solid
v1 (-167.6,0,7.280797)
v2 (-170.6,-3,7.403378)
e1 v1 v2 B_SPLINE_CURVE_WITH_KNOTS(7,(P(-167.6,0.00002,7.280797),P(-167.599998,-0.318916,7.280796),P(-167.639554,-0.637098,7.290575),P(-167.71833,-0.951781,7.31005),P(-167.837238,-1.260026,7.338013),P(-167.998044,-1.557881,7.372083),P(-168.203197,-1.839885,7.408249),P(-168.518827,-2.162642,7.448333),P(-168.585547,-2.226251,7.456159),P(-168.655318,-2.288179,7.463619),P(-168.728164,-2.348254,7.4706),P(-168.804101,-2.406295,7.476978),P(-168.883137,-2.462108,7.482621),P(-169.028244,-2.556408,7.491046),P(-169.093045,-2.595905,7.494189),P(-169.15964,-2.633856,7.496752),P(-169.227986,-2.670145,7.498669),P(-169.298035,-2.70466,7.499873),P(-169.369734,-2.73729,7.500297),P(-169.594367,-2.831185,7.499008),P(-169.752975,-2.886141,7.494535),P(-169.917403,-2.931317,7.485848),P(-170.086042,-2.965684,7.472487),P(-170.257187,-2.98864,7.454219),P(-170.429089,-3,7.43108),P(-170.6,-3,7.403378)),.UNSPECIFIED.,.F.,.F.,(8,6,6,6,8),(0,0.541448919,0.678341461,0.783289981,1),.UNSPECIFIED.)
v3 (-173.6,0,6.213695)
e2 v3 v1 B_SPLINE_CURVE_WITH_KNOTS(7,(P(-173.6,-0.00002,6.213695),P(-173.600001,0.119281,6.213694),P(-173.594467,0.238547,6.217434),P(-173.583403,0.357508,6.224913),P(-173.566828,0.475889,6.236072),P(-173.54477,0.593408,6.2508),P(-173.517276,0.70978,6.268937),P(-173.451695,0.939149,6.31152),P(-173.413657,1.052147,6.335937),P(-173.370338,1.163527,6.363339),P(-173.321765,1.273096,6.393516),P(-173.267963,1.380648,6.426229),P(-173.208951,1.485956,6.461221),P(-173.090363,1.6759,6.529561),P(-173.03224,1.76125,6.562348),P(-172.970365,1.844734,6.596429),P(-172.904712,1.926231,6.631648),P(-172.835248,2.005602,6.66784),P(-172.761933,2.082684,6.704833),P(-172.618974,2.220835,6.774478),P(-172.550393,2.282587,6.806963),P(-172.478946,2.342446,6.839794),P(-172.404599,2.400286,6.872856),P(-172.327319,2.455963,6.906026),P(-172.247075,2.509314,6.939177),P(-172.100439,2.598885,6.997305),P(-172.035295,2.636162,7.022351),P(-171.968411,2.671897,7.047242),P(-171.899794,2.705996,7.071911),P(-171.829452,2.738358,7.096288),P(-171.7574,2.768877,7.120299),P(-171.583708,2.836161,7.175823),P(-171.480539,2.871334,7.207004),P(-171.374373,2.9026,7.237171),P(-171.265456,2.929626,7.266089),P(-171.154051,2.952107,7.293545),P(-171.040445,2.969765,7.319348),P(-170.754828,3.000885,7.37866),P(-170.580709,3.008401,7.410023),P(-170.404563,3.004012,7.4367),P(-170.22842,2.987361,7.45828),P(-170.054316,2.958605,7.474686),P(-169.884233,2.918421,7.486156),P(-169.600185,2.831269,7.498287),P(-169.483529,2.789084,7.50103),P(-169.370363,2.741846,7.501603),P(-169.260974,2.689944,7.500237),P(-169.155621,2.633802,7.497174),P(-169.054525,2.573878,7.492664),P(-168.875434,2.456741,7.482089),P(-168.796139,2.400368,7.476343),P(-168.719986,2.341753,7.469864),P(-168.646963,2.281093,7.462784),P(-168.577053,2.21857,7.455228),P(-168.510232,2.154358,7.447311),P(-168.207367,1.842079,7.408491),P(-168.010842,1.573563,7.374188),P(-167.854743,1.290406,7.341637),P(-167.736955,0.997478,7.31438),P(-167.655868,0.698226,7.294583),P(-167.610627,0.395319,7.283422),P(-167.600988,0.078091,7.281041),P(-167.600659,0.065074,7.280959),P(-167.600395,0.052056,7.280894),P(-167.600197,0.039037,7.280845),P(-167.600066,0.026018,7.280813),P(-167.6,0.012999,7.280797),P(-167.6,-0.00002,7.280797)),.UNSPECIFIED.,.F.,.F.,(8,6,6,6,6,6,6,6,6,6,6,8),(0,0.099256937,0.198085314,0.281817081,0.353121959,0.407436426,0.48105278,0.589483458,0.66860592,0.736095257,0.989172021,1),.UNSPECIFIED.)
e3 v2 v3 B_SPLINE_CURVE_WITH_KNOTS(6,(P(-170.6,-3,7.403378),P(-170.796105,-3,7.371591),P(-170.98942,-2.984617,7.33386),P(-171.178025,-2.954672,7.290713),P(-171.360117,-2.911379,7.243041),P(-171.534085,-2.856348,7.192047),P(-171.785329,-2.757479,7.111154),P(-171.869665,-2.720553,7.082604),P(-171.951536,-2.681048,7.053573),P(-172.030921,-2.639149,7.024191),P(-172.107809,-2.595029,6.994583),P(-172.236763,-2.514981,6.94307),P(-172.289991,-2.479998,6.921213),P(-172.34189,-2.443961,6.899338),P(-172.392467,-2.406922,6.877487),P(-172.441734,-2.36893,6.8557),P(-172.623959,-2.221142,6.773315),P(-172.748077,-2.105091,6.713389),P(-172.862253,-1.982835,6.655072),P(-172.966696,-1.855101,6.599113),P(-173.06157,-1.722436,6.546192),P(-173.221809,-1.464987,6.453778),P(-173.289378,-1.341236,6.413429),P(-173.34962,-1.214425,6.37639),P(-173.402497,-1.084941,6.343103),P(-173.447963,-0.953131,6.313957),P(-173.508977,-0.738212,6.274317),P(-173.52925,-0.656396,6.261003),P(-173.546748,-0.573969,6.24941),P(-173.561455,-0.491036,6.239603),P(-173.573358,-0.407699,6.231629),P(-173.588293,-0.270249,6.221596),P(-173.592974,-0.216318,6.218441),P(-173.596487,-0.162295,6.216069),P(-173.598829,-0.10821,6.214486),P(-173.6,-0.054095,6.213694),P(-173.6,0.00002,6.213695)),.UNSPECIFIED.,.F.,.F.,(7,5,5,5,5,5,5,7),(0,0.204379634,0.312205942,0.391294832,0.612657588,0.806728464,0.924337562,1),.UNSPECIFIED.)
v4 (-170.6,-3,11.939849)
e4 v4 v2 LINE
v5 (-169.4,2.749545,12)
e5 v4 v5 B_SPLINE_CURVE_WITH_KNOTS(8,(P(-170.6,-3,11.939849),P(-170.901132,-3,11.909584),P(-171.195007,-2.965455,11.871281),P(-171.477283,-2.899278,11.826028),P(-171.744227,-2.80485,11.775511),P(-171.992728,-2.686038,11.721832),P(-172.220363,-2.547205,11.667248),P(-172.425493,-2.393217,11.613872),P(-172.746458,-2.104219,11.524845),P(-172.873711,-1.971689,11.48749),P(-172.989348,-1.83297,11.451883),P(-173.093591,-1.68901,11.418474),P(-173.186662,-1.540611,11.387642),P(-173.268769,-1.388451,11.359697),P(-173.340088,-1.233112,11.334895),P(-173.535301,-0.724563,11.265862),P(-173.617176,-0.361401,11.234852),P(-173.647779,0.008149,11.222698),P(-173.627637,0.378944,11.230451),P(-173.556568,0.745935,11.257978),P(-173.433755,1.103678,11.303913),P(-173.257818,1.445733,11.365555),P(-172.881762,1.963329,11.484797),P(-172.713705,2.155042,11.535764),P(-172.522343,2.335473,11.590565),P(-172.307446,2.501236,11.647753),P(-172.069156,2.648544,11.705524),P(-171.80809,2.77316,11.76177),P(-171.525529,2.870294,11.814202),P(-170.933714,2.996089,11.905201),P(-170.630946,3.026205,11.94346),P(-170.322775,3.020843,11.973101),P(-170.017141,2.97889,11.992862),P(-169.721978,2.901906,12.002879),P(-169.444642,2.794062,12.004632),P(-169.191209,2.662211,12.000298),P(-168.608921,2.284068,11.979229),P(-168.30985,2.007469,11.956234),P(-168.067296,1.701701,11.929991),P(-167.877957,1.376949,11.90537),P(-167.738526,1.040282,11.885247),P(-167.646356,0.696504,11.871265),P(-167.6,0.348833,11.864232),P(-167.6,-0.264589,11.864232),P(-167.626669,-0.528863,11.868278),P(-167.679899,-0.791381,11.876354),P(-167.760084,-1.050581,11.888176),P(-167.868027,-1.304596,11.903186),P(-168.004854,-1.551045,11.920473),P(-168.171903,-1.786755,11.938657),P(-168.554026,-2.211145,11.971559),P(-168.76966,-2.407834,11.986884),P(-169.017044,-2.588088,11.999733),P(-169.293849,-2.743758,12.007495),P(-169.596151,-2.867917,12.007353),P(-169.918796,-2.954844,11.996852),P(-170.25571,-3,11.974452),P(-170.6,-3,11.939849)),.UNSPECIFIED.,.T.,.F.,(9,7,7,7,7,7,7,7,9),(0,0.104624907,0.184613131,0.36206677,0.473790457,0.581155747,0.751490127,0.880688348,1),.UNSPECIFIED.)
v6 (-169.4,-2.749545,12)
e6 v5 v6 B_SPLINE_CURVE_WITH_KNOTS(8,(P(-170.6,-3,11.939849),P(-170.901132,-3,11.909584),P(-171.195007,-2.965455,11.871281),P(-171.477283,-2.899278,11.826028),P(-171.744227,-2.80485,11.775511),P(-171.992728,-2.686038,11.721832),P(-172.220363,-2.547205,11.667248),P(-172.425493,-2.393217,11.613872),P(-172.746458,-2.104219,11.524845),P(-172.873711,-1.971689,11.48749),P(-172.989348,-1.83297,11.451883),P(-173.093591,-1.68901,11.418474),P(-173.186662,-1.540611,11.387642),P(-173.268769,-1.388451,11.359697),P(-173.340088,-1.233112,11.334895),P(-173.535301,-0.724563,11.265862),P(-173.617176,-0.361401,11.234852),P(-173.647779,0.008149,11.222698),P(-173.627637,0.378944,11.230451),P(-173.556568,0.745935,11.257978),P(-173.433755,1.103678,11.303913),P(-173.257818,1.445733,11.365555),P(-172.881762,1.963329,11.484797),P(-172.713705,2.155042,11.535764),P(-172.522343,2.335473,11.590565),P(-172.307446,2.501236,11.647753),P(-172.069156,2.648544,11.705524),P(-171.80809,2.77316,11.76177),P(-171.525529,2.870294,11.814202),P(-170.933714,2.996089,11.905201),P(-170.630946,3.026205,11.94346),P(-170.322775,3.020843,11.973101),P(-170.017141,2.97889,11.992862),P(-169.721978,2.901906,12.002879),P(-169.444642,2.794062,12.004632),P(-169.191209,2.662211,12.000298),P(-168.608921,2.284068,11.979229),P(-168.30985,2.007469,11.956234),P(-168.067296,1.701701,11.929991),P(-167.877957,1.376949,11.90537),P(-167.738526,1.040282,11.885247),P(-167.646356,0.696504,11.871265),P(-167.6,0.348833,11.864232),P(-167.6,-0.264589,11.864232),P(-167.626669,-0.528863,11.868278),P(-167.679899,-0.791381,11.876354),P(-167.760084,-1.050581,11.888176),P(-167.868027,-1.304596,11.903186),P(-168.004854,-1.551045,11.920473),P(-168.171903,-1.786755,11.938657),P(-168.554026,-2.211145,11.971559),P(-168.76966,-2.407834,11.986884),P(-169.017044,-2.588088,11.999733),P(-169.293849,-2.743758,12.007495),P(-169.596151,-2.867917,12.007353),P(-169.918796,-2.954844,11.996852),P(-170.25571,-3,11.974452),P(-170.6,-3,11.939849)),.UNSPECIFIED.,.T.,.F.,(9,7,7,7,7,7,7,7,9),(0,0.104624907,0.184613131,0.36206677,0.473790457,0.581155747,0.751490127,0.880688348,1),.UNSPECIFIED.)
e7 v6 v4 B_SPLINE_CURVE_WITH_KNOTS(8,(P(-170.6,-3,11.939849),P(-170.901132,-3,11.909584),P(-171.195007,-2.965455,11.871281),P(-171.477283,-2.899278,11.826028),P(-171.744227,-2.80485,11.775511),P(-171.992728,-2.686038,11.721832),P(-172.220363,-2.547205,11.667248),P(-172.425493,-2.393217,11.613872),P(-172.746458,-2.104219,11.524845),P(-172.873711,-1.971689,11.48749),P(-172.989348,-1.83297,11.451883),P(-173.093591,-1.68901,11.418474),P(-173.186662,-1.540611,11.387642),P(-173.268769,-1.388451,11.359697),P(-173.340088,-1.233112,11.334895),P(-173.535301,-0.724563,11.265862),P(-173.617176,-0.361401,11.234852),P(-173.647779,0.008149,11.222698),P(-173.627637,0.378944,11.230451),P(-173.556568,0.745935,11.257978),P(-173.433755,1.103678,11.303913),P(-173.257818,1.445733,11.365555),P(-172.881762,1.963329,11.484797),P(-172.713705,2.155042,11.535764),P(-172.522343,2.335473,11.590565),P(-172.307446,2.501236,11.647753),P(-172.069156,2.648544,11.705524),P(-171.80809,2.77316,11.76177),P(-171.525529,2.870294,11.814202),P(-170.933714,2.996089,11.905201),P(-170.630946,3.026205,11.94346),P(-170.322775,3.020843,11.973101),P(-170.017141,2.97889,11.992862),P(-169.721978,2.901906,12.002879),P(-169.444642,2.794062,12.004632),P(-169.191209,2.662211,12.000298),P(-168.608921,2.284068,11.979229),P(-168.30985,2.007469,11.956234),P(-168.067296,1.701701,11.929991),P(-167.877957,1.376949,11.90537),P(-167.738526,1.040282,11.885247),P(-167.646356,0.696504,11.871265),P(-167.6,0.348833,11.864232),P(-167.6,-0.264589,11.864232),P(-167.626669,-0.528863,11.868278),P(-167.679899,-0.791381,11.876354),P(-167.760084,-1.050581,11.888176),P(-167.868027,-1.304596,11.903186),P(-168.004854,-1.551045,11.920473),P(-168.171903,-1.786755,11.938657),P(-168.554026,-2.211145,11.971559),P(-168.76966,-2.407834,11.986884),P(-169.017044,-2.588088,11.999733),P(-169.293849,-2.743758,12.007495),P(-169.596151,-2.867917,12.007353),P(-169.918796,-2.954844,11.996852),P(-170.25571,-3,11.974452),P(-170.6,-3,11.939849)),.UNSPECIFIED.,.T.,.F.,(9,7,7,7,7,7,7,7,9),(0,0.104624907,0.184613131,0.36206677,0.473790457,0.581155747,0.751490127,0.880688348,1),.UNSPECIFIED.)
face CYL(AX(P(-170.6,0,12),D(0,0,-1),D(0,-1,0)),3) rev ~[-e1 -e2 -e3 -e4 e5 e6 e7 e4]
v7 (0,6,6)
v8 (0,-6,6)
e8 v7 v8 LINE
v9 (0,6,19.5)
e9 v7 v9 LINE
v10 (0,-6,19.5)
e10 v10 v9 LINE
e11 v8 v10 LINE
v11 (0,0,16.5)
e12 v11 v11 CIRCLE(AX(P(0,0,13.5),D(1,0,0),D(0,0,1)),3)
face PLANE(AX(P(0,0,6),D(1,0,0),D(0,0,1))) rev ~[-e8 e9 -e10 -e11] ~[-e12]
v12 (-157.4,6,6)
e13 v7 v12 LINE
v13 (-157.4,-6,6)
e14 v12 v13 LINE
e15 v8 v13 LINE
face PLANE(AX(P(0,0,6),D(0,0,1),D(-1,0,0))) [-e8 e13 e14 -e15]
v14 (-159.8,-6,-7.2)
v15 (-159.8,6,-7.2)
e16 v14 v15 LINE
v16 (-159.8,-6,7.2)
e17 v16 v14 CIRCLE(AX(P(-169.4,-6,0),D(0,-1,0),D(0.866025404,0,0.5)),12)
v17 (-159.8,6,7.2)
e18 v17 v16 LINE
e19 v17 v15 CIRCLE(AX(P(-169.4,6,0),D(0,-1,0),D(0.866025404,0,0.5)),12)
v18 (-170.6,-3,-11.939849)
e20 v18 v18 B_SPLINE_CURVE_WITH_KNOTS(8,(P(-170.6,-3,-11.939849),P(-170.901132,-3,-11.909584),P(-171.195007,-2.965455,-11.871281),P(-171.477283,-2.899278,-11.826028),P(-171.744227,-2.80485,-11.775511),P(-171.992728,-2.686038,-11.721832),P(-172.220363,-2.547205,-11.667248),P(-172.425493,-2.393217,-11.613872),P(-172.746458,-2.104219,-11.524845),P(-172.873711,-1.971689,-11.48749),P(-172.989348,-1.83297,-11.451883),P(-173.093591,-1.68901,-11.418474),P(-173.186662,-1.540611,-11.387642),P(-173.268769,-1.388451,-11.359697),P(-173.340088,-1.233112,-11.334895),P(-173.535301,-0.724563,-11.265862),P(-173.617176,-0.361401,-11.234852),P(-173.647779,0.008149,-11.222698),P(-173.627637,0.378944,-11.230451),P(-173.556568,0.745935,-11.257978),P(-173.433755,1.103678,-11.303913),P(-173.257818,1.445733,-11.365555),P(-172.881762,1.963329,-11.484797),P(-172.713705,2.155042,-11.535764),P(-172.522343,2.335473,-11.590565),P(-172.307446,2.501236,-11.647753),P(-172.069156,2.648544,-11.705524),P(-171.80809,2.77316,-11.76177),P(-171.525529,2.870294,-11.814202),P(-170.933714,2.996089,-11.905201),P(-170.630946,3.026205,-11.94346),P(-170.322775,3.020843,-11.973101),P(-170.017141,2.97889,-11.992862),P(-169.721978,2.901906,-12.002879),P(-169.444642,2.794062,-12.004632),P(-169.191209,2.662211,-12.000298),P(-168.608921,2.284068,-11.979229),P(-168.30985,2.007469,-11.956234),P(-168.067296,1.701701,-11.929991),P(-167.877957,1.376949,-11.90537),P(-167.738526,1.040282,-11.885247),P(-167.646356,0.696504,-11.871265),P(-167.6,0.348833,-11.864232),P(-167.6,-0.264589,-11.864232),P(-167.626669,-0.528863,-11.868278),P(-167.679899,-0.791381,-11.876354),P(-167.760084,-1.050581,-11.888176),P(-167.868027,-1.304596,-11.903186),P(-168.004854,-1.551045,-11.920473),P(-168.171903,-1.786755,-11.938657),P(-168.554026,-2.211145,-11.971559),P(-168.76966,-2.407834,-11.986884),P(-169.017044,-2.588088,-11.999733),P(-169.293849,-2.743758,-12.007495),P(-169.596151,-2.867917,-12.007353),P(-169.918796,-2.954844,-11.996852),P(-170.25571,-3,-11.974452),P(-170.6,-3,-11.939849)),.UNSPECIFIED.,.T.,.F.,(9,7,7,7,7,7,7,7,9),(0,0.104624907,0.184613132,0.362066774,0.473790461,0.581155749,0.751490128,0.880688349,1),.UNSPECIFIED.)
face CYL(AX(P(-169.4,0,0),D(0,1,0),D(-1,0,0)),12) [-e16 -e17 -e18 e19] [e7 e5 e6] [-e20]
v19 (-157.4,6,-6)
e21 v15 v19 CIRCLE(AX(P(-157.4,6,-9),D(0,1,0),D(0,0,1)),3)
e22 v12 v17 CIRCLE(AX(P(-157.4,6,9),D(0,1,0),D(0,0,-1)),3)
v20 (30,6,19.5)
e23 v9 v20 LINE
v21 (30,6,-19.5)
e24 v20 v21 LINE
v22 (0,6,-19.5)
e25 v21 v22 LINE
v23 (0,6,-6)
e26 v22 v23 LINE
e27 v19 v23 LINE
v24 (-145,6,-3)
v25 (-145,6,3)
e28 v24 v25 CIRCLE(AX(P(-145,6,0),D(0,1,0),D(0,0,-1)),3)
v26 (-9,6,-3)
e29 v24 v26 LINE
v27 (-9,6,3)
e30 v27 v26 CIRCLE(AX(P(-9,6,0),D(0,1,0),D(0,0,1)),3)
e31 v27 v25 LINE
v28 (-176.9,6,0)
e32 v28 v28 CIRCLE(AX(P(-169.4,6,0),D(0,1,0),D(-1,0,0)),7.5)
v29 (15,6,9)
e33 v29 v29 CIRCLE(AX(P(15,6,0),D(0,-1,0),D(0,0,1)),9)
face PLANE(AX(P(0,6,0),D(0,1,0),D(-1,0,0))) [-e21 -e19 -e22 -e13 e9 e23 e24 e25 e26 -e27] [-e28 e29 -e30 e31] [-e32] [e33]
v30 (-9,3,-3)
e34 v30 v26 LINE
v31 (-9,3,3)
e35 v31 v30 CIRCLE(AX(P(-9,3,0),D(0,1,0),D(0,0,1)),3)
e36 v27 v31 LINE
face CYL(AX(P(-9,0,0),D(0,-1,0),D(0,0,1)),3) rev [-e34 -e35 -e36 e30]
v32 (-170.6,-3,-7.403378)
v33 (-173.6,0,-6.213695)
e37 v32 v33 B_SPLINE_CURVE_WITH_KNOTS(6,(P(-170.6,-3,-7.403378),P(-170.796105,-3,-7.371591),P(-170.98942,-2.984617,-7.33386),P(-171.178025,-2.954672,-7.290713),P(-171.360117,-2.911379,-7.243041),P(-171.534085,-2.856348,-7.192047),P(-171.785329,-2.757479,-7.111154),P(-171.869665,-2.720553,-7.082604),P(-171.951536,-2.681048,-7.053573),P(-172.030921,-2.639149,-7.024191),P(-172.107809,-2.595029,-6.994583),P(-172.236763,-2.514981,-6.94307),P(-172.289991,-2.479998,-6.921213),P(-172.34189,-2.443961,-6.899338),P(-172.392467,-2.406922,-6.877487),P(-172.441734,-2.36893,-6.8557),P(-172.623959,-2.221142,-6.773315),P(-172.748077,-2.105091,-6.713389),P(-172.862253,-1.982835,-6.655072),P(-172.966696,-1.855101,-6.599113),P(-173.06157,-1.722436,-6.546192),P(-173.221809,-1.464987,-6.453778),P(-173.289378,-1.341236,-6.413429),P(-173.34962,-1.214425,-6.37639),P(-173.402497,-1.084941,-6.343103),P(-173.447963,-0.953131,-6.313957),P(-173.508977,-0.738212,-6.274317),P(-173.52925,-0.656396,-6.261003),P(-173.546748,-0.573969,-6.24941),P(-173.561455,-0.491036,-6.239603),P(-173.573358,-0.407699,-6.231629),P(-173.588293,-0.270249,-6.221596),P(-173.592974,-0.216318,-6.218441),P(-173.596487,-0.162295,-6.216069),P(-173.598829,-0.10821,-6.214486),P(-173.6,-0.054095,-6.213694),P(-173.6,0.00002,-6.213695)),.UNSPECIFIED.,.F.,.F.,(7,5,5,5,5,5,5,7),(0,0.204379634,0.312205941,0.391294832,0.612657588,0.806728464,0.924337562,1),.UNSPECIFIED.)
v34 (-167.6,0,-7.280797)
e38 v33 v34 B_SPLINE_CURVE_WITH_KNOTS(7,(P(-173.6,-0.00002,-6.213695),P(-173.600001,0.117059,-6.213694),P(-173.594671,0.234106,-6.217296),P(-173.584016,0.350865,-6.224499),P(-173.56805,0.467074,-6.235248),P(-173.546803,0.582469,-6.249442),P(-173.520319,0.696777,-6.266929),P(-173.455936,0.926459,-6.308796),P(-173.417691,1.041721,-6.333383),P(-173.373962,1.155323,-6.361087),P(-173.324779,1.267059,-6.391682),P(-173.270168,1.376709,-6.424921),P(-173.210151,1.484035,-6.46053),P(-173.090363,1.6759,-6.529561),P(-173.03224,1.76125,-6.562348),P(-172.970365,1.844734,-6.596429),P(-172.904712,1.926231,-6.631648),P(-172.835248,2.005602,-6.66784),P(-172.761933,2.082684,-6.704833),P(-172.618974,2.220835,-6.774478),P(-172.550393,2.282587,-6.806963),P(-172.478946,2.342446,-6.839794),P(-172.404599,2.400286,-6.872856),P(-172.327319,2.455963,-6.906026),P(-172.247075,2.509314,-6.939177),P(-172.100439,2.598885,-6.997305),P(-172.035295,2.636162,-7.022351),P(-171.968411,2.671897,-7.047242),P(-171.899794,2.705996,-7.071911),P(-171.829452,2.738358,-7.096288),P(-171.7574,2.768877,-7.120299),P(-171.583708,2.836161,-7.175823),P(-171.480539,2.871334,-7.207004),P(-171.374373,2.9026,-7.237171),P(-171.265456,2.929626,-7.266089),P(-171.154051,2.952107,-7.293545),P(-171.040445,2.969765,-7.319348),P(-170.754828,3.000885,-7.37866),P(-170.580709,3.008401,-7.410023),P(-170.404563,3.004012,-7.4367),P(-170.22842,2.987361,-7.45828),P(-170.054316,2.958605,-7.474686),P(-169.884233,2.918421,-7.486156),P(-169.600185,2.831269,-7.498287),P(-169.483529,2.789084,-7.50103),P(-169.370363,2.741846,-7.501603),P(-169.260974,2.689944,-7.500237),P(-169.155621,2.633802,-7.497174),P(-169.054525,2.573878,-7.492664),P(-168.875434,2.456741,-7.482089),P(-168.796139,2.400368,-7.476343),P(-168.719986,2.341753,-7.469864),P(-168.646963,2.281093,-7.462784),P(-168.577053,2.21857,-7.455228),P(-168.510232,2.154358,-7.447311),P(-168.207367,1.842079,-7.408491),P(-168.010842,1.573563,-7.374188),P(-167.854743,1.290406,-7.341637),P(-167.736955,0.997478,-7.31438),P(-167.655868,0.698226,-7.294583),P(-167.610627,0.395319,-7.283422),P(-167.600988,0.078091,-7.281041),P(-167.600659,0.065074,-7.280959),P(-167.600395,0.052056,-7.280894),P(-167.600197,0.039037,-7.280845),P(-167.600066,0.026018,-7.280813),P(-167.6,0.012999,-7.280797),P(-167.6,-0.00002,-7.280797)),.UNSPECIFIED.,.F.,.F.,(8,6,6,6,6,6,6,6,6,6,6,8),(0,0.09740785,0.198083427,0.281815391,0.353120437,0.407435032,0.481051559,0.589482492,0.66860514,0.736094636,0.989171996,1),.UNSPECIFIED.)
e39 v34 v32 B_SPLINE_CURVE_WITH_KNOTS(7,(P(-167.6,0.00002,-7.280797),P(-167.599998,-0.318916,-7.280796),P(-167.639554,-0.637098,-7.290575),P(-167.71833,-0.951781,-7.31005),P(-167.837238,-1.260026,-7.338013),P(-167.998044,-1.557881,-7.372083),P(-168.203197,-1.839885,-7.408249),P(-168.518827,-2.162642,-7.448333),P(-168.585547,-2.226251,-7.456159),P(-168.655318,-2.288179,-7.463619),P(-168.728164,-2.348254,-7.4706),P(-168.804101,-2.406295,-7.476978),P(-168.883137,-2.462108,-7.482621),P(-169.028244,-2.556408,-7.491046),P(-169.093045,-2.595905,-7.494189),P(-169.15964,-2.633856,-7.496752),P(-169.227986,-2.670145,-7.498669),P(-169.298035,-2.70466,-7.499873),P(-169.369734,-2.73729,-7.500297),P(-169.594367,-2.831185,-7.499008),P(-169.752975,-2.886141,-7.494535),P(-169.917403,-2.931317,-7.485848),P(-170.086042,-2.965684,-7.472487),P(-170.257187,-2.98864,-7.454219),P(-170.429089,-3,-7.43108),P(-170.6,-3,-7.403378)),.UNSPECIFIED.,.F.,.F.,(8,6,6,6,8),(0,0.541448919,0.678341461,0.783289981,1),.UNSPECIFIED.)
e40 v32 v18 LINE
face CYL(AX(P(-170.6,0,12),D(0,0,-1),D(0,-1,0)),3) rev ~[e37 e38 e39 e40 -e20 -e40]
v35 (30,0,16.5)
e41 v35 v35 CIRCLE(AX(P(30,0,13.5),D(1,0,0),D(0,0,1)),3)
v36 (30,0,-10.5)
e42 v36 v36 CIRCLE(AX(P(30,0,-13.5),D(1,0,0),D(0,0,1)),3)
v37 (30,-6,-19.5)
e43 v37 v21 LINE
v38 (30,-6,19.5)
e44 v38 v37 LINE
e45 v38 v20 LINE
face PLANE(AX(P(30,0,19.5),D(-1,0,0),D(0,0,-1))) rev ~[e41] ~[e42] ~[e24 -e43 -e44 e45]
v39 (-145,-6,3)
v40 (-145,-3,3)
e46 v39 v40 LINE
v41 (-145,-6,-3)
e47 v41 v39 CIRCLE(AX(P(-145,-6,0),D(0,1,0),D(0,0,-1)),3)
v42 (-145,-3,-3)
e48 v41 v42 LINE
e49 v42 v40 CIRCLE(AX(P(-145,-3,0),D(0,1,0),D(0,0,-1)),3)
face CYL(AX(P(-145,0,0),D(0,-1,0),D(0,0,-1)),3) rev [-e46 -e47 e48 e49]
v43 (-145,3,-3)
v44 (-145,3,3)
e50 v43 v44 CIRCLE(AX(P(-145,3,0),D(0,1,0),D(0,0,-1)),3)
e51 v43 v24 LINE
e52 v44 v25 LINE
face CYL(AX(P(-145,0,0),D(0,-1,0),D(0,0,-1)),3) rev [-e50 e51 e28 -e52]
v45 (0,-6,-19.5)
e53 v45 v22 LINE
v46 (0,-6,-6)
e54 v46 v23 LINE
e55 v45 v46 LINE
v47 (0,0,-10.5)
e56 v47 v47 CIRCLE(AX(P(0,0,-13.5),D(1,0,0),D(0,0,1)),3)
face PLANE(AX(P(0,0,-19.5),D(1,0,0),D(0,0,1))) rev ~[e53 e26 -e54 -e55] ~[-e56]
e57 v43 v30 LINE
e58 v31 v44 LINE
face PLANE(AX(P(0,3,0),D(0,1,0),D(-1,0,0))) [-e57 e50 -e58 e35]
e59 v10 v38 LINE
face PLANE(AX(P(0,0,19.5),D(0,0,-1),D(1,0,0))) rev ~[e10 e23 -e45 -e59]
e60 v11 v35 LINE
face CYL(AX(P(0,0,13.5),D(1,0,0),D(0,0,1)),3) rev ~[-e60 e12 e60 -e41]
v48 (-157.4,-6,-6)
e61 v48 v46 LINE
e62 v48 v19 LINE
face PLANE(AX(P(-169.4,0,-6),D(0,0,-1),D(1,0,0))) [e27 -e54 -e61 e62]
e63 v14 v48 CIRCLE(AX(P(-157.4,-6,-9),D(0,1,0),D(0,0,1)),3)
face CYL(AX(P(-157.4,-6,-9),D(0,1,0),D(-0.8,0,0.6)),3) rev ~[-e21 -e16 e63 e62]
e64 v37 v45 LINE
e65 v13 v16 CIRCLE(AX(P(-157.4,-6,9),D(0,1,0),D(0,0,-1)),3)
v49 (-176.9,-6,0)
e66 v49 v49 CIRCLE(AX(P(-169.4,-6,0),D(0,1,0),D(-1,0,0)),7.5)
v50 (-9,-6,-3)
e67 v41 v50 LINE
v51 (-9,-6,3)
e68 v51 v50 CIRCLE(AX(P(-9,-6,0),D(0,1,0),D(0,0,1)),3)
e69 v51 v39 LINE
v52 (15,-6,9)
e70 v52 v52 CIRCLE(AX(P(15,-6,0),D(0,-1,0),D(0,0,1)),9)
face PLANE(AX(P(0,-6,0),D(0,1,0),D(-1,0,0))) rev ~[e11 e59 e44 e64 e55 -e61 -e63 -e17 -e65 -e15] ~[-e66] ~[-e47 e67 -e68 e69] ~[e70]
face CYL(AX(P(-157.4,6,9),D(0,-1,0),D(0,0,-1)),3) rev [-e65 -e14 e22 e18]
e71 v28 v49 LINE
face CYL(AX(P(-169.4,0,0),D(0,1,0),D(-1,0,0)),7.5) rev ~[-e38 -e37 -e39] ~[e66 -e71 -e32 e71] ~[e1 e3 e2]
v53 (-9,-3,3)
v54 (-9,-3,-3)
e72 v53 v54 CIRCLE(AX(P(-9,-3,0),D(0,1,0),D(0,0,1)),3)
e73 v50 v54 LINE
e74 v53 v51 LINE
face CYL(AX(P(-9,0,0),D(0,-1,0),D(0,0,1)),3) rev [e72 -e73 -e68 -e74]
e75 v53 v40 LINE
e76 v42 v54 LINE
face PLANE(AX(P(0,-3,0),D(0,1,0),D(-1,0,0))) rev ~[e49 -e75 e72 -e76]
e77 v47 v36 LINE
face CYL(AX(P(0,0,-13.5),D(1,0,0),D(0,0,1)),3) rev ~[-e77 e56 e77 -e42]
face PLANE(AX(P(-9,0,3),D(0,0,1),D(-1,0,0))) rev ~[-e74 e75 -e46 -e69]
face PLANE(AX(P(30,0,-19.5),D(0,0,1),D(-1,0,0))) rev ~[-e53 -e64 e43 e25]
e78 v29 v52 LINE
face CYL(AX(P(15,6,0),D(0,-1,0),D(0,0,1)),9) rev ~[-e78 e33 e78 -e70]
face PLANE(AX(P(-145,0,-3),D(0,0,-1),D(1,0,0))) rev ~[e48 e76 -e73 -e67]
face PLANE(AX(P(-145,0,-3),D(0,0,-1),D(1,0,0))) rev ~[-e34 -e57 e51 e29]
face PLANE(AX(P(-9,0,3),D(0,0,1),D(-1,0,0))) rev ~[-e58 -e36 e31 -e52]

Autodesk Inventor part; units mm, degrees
ref_plane "YZ Plane" through (0, 0, 0) normal (1, 0, 0) x (0, 1, 0)
sketch "Skizze1" plane through (0, 0, 0) normal (0, 1, 0) x (-1, 0, 0)
  line L0 (0, 19.5) -> (-30, 19.5)
  line L1 (-30, 19.5) -> (-30, -19.5)
  line L2 (-30, -19.5) -> (0, -19.5)
  line L3 (0, -19.5) -> (0, 19.5)
  line L4 (0, 6) -> (169.4, 6)
  line L5 (169.4, 6) -> (169.4, -6)
  line L6 (169.4, -6) -> (0, -6)
  line L7 (0, -6) -> (0, 6)
  line L8 (0, 0) -> (-64.3399, 0) construction
  line L9 (9, 0) -> (145, 0) construction
  line L10 (9, 3) -> (145, 3)
  line L11 (145, -3) -> (9, -3)
  arc A0 (9, 3) -> (9, -3) centre (9, 0) ccw
  arc A1 (145, -3) -> (145, 3) centre (145, 0) ccw
  point P0 (169.4, 0)
  point P1 (-15, -19.5)
  point P2 (77, 0)
  point P3 (6, 0)
  point P4 (148, 0)
  dimension "d0" = 39
  dimension "d1" = 30
  dimension "d2" = 184.4
  dimension "d3" = 12
  dimension "d4" = 6
  dimension "d5" = 6
  dimension "d6" = 3
  dimension "d27" = 142
extrude "Extrusion1" add sketch "Skizze1" along normal mid plane 12
extrude "Extrusion2" add sketch "Skizze1" along normal blind 3 contours L10 A1 L11 A0
extrude "Extrusion3" add sketch "Skizze1" against normal blind 3 contours L10 A1 L11 A0
sketch "Skizze2" plane through (0, 6, 0) normal (0, 1, 0) x (1, 0, 0)
  line L0 (30, 19.5) -> (0, 19.5) projected
  point P0 (0, 0)
  point P1 (15, 0)
  point P2 (15, 19.5)
hole "Bohrung1" at (15, 6, 0) direction (0, -1, 0) diameter 18 depth 12
ref_plane "Arbeitsebene1" through (0, 0, 0) normal (0, 1, 0) x (-1, 0, 0)
sketch "Skizze4" plane through (0, 0, 0) normal (0, 1, 0) x (-1, 0, 0)
  line L0 (169.4, 6) -> (169.4, -6) projected
  circle A0 centre (169.4, 0) radius 12
  point P0 (0, 0)
  dimension "d24" = 24
extrude "Extrusion4" add sketch "Skizze4" along normal mid plane 12
sketch "Skizze5" plane through (0, 0, 0) normal (0, 1, 0) x (-1, 0, 0)
  circle A0 centre (169.4, 0) radius 7.5
  arc A1 (159.0077, -6) -> (159.0077, 6) centre (169.4, 0) ccw projected
  point P0 (0, 0)
  dimension "d28" = 15
extrude "Extrusion5" cut sketch "Skizze5" along normal mid plane 12
fillet "Rundung1" radius 3 2 edges at (-159.0077, 0, 6) (-159.0077, 0, -6)
ref_plane "Arbeitsebene2" through (0, 0, 12) normal (0, 0, 1) x (1, 0, 0)
sketch "Skizze6" plane through (0, 0, 12) normal (0, 0, 1) x (1, 0, 0)
  line L0 (-181.4, -6) -> (-181.4, 6) projected
  line L1 (-159.8, -6) -> (-159.8, 6) projected
  line L2 (-159.8, -6) -> (-159.8, -6) projected
  line L3 (-159.8, 6) -> (-159.8, -6) projected
  line L4 (-159.8, 6) -> (-159.8, 6) projected
  line L5 (-159.8, 6) -> (-181.4, 6) projected
  point P0 (0, 0)
  point P1 (-170.6, 0)
  point P2 (-181.4, 0)
  point P3 (-170.6, 6)
hole "Bohrung2" at (-170.6, 0, 12) direction (0, 0, -1) diameter 6 end through all
sketch "Skizze7" plane through (0, -6, 19.5) normal (-1, 0, 0) x (0, 0, 1)
  line L0 (-12, 0) -> (-27, 0) projected
  line L1 (-25.5, 0) -> (-39, 0) projected
  line L2 (-39, 0) -> (0, 0) projected
  line L3 (0, 0) -> (-13.5, 0) projected
  line L4 (-12.3, 0) -> (-13.5, 0) projected
  line L5 (-12.3, 0) -> (-26.7, 0) projected
  line L6 (-25.5, 0) -> (-26.7, 0) projected
  line L7 (-22.5, 0) -> (-16.5, 0) projected
  line L8 (-16.5, 0) -> (-22.5, 0) projected
  line L9 (-10.5, 0) -> (-28.5, 0) projected
  point P0 (-19.5, 6)
  point P1 (-6, 6)
  point P2 (-33, 6)
  point P3 (-6.75, 0)
  dimension "d48" = 6
  dimension "d50" = 13.5
  dimension "d51" = 13.5
hole "Bohrung3" at (0, 0, 13.5) at (0, 0, -13.5) direction (1, 0, 0) diameter 6 end through all
equation "\"d51\" = d50"
properties part number "pleuel_rad_2"
